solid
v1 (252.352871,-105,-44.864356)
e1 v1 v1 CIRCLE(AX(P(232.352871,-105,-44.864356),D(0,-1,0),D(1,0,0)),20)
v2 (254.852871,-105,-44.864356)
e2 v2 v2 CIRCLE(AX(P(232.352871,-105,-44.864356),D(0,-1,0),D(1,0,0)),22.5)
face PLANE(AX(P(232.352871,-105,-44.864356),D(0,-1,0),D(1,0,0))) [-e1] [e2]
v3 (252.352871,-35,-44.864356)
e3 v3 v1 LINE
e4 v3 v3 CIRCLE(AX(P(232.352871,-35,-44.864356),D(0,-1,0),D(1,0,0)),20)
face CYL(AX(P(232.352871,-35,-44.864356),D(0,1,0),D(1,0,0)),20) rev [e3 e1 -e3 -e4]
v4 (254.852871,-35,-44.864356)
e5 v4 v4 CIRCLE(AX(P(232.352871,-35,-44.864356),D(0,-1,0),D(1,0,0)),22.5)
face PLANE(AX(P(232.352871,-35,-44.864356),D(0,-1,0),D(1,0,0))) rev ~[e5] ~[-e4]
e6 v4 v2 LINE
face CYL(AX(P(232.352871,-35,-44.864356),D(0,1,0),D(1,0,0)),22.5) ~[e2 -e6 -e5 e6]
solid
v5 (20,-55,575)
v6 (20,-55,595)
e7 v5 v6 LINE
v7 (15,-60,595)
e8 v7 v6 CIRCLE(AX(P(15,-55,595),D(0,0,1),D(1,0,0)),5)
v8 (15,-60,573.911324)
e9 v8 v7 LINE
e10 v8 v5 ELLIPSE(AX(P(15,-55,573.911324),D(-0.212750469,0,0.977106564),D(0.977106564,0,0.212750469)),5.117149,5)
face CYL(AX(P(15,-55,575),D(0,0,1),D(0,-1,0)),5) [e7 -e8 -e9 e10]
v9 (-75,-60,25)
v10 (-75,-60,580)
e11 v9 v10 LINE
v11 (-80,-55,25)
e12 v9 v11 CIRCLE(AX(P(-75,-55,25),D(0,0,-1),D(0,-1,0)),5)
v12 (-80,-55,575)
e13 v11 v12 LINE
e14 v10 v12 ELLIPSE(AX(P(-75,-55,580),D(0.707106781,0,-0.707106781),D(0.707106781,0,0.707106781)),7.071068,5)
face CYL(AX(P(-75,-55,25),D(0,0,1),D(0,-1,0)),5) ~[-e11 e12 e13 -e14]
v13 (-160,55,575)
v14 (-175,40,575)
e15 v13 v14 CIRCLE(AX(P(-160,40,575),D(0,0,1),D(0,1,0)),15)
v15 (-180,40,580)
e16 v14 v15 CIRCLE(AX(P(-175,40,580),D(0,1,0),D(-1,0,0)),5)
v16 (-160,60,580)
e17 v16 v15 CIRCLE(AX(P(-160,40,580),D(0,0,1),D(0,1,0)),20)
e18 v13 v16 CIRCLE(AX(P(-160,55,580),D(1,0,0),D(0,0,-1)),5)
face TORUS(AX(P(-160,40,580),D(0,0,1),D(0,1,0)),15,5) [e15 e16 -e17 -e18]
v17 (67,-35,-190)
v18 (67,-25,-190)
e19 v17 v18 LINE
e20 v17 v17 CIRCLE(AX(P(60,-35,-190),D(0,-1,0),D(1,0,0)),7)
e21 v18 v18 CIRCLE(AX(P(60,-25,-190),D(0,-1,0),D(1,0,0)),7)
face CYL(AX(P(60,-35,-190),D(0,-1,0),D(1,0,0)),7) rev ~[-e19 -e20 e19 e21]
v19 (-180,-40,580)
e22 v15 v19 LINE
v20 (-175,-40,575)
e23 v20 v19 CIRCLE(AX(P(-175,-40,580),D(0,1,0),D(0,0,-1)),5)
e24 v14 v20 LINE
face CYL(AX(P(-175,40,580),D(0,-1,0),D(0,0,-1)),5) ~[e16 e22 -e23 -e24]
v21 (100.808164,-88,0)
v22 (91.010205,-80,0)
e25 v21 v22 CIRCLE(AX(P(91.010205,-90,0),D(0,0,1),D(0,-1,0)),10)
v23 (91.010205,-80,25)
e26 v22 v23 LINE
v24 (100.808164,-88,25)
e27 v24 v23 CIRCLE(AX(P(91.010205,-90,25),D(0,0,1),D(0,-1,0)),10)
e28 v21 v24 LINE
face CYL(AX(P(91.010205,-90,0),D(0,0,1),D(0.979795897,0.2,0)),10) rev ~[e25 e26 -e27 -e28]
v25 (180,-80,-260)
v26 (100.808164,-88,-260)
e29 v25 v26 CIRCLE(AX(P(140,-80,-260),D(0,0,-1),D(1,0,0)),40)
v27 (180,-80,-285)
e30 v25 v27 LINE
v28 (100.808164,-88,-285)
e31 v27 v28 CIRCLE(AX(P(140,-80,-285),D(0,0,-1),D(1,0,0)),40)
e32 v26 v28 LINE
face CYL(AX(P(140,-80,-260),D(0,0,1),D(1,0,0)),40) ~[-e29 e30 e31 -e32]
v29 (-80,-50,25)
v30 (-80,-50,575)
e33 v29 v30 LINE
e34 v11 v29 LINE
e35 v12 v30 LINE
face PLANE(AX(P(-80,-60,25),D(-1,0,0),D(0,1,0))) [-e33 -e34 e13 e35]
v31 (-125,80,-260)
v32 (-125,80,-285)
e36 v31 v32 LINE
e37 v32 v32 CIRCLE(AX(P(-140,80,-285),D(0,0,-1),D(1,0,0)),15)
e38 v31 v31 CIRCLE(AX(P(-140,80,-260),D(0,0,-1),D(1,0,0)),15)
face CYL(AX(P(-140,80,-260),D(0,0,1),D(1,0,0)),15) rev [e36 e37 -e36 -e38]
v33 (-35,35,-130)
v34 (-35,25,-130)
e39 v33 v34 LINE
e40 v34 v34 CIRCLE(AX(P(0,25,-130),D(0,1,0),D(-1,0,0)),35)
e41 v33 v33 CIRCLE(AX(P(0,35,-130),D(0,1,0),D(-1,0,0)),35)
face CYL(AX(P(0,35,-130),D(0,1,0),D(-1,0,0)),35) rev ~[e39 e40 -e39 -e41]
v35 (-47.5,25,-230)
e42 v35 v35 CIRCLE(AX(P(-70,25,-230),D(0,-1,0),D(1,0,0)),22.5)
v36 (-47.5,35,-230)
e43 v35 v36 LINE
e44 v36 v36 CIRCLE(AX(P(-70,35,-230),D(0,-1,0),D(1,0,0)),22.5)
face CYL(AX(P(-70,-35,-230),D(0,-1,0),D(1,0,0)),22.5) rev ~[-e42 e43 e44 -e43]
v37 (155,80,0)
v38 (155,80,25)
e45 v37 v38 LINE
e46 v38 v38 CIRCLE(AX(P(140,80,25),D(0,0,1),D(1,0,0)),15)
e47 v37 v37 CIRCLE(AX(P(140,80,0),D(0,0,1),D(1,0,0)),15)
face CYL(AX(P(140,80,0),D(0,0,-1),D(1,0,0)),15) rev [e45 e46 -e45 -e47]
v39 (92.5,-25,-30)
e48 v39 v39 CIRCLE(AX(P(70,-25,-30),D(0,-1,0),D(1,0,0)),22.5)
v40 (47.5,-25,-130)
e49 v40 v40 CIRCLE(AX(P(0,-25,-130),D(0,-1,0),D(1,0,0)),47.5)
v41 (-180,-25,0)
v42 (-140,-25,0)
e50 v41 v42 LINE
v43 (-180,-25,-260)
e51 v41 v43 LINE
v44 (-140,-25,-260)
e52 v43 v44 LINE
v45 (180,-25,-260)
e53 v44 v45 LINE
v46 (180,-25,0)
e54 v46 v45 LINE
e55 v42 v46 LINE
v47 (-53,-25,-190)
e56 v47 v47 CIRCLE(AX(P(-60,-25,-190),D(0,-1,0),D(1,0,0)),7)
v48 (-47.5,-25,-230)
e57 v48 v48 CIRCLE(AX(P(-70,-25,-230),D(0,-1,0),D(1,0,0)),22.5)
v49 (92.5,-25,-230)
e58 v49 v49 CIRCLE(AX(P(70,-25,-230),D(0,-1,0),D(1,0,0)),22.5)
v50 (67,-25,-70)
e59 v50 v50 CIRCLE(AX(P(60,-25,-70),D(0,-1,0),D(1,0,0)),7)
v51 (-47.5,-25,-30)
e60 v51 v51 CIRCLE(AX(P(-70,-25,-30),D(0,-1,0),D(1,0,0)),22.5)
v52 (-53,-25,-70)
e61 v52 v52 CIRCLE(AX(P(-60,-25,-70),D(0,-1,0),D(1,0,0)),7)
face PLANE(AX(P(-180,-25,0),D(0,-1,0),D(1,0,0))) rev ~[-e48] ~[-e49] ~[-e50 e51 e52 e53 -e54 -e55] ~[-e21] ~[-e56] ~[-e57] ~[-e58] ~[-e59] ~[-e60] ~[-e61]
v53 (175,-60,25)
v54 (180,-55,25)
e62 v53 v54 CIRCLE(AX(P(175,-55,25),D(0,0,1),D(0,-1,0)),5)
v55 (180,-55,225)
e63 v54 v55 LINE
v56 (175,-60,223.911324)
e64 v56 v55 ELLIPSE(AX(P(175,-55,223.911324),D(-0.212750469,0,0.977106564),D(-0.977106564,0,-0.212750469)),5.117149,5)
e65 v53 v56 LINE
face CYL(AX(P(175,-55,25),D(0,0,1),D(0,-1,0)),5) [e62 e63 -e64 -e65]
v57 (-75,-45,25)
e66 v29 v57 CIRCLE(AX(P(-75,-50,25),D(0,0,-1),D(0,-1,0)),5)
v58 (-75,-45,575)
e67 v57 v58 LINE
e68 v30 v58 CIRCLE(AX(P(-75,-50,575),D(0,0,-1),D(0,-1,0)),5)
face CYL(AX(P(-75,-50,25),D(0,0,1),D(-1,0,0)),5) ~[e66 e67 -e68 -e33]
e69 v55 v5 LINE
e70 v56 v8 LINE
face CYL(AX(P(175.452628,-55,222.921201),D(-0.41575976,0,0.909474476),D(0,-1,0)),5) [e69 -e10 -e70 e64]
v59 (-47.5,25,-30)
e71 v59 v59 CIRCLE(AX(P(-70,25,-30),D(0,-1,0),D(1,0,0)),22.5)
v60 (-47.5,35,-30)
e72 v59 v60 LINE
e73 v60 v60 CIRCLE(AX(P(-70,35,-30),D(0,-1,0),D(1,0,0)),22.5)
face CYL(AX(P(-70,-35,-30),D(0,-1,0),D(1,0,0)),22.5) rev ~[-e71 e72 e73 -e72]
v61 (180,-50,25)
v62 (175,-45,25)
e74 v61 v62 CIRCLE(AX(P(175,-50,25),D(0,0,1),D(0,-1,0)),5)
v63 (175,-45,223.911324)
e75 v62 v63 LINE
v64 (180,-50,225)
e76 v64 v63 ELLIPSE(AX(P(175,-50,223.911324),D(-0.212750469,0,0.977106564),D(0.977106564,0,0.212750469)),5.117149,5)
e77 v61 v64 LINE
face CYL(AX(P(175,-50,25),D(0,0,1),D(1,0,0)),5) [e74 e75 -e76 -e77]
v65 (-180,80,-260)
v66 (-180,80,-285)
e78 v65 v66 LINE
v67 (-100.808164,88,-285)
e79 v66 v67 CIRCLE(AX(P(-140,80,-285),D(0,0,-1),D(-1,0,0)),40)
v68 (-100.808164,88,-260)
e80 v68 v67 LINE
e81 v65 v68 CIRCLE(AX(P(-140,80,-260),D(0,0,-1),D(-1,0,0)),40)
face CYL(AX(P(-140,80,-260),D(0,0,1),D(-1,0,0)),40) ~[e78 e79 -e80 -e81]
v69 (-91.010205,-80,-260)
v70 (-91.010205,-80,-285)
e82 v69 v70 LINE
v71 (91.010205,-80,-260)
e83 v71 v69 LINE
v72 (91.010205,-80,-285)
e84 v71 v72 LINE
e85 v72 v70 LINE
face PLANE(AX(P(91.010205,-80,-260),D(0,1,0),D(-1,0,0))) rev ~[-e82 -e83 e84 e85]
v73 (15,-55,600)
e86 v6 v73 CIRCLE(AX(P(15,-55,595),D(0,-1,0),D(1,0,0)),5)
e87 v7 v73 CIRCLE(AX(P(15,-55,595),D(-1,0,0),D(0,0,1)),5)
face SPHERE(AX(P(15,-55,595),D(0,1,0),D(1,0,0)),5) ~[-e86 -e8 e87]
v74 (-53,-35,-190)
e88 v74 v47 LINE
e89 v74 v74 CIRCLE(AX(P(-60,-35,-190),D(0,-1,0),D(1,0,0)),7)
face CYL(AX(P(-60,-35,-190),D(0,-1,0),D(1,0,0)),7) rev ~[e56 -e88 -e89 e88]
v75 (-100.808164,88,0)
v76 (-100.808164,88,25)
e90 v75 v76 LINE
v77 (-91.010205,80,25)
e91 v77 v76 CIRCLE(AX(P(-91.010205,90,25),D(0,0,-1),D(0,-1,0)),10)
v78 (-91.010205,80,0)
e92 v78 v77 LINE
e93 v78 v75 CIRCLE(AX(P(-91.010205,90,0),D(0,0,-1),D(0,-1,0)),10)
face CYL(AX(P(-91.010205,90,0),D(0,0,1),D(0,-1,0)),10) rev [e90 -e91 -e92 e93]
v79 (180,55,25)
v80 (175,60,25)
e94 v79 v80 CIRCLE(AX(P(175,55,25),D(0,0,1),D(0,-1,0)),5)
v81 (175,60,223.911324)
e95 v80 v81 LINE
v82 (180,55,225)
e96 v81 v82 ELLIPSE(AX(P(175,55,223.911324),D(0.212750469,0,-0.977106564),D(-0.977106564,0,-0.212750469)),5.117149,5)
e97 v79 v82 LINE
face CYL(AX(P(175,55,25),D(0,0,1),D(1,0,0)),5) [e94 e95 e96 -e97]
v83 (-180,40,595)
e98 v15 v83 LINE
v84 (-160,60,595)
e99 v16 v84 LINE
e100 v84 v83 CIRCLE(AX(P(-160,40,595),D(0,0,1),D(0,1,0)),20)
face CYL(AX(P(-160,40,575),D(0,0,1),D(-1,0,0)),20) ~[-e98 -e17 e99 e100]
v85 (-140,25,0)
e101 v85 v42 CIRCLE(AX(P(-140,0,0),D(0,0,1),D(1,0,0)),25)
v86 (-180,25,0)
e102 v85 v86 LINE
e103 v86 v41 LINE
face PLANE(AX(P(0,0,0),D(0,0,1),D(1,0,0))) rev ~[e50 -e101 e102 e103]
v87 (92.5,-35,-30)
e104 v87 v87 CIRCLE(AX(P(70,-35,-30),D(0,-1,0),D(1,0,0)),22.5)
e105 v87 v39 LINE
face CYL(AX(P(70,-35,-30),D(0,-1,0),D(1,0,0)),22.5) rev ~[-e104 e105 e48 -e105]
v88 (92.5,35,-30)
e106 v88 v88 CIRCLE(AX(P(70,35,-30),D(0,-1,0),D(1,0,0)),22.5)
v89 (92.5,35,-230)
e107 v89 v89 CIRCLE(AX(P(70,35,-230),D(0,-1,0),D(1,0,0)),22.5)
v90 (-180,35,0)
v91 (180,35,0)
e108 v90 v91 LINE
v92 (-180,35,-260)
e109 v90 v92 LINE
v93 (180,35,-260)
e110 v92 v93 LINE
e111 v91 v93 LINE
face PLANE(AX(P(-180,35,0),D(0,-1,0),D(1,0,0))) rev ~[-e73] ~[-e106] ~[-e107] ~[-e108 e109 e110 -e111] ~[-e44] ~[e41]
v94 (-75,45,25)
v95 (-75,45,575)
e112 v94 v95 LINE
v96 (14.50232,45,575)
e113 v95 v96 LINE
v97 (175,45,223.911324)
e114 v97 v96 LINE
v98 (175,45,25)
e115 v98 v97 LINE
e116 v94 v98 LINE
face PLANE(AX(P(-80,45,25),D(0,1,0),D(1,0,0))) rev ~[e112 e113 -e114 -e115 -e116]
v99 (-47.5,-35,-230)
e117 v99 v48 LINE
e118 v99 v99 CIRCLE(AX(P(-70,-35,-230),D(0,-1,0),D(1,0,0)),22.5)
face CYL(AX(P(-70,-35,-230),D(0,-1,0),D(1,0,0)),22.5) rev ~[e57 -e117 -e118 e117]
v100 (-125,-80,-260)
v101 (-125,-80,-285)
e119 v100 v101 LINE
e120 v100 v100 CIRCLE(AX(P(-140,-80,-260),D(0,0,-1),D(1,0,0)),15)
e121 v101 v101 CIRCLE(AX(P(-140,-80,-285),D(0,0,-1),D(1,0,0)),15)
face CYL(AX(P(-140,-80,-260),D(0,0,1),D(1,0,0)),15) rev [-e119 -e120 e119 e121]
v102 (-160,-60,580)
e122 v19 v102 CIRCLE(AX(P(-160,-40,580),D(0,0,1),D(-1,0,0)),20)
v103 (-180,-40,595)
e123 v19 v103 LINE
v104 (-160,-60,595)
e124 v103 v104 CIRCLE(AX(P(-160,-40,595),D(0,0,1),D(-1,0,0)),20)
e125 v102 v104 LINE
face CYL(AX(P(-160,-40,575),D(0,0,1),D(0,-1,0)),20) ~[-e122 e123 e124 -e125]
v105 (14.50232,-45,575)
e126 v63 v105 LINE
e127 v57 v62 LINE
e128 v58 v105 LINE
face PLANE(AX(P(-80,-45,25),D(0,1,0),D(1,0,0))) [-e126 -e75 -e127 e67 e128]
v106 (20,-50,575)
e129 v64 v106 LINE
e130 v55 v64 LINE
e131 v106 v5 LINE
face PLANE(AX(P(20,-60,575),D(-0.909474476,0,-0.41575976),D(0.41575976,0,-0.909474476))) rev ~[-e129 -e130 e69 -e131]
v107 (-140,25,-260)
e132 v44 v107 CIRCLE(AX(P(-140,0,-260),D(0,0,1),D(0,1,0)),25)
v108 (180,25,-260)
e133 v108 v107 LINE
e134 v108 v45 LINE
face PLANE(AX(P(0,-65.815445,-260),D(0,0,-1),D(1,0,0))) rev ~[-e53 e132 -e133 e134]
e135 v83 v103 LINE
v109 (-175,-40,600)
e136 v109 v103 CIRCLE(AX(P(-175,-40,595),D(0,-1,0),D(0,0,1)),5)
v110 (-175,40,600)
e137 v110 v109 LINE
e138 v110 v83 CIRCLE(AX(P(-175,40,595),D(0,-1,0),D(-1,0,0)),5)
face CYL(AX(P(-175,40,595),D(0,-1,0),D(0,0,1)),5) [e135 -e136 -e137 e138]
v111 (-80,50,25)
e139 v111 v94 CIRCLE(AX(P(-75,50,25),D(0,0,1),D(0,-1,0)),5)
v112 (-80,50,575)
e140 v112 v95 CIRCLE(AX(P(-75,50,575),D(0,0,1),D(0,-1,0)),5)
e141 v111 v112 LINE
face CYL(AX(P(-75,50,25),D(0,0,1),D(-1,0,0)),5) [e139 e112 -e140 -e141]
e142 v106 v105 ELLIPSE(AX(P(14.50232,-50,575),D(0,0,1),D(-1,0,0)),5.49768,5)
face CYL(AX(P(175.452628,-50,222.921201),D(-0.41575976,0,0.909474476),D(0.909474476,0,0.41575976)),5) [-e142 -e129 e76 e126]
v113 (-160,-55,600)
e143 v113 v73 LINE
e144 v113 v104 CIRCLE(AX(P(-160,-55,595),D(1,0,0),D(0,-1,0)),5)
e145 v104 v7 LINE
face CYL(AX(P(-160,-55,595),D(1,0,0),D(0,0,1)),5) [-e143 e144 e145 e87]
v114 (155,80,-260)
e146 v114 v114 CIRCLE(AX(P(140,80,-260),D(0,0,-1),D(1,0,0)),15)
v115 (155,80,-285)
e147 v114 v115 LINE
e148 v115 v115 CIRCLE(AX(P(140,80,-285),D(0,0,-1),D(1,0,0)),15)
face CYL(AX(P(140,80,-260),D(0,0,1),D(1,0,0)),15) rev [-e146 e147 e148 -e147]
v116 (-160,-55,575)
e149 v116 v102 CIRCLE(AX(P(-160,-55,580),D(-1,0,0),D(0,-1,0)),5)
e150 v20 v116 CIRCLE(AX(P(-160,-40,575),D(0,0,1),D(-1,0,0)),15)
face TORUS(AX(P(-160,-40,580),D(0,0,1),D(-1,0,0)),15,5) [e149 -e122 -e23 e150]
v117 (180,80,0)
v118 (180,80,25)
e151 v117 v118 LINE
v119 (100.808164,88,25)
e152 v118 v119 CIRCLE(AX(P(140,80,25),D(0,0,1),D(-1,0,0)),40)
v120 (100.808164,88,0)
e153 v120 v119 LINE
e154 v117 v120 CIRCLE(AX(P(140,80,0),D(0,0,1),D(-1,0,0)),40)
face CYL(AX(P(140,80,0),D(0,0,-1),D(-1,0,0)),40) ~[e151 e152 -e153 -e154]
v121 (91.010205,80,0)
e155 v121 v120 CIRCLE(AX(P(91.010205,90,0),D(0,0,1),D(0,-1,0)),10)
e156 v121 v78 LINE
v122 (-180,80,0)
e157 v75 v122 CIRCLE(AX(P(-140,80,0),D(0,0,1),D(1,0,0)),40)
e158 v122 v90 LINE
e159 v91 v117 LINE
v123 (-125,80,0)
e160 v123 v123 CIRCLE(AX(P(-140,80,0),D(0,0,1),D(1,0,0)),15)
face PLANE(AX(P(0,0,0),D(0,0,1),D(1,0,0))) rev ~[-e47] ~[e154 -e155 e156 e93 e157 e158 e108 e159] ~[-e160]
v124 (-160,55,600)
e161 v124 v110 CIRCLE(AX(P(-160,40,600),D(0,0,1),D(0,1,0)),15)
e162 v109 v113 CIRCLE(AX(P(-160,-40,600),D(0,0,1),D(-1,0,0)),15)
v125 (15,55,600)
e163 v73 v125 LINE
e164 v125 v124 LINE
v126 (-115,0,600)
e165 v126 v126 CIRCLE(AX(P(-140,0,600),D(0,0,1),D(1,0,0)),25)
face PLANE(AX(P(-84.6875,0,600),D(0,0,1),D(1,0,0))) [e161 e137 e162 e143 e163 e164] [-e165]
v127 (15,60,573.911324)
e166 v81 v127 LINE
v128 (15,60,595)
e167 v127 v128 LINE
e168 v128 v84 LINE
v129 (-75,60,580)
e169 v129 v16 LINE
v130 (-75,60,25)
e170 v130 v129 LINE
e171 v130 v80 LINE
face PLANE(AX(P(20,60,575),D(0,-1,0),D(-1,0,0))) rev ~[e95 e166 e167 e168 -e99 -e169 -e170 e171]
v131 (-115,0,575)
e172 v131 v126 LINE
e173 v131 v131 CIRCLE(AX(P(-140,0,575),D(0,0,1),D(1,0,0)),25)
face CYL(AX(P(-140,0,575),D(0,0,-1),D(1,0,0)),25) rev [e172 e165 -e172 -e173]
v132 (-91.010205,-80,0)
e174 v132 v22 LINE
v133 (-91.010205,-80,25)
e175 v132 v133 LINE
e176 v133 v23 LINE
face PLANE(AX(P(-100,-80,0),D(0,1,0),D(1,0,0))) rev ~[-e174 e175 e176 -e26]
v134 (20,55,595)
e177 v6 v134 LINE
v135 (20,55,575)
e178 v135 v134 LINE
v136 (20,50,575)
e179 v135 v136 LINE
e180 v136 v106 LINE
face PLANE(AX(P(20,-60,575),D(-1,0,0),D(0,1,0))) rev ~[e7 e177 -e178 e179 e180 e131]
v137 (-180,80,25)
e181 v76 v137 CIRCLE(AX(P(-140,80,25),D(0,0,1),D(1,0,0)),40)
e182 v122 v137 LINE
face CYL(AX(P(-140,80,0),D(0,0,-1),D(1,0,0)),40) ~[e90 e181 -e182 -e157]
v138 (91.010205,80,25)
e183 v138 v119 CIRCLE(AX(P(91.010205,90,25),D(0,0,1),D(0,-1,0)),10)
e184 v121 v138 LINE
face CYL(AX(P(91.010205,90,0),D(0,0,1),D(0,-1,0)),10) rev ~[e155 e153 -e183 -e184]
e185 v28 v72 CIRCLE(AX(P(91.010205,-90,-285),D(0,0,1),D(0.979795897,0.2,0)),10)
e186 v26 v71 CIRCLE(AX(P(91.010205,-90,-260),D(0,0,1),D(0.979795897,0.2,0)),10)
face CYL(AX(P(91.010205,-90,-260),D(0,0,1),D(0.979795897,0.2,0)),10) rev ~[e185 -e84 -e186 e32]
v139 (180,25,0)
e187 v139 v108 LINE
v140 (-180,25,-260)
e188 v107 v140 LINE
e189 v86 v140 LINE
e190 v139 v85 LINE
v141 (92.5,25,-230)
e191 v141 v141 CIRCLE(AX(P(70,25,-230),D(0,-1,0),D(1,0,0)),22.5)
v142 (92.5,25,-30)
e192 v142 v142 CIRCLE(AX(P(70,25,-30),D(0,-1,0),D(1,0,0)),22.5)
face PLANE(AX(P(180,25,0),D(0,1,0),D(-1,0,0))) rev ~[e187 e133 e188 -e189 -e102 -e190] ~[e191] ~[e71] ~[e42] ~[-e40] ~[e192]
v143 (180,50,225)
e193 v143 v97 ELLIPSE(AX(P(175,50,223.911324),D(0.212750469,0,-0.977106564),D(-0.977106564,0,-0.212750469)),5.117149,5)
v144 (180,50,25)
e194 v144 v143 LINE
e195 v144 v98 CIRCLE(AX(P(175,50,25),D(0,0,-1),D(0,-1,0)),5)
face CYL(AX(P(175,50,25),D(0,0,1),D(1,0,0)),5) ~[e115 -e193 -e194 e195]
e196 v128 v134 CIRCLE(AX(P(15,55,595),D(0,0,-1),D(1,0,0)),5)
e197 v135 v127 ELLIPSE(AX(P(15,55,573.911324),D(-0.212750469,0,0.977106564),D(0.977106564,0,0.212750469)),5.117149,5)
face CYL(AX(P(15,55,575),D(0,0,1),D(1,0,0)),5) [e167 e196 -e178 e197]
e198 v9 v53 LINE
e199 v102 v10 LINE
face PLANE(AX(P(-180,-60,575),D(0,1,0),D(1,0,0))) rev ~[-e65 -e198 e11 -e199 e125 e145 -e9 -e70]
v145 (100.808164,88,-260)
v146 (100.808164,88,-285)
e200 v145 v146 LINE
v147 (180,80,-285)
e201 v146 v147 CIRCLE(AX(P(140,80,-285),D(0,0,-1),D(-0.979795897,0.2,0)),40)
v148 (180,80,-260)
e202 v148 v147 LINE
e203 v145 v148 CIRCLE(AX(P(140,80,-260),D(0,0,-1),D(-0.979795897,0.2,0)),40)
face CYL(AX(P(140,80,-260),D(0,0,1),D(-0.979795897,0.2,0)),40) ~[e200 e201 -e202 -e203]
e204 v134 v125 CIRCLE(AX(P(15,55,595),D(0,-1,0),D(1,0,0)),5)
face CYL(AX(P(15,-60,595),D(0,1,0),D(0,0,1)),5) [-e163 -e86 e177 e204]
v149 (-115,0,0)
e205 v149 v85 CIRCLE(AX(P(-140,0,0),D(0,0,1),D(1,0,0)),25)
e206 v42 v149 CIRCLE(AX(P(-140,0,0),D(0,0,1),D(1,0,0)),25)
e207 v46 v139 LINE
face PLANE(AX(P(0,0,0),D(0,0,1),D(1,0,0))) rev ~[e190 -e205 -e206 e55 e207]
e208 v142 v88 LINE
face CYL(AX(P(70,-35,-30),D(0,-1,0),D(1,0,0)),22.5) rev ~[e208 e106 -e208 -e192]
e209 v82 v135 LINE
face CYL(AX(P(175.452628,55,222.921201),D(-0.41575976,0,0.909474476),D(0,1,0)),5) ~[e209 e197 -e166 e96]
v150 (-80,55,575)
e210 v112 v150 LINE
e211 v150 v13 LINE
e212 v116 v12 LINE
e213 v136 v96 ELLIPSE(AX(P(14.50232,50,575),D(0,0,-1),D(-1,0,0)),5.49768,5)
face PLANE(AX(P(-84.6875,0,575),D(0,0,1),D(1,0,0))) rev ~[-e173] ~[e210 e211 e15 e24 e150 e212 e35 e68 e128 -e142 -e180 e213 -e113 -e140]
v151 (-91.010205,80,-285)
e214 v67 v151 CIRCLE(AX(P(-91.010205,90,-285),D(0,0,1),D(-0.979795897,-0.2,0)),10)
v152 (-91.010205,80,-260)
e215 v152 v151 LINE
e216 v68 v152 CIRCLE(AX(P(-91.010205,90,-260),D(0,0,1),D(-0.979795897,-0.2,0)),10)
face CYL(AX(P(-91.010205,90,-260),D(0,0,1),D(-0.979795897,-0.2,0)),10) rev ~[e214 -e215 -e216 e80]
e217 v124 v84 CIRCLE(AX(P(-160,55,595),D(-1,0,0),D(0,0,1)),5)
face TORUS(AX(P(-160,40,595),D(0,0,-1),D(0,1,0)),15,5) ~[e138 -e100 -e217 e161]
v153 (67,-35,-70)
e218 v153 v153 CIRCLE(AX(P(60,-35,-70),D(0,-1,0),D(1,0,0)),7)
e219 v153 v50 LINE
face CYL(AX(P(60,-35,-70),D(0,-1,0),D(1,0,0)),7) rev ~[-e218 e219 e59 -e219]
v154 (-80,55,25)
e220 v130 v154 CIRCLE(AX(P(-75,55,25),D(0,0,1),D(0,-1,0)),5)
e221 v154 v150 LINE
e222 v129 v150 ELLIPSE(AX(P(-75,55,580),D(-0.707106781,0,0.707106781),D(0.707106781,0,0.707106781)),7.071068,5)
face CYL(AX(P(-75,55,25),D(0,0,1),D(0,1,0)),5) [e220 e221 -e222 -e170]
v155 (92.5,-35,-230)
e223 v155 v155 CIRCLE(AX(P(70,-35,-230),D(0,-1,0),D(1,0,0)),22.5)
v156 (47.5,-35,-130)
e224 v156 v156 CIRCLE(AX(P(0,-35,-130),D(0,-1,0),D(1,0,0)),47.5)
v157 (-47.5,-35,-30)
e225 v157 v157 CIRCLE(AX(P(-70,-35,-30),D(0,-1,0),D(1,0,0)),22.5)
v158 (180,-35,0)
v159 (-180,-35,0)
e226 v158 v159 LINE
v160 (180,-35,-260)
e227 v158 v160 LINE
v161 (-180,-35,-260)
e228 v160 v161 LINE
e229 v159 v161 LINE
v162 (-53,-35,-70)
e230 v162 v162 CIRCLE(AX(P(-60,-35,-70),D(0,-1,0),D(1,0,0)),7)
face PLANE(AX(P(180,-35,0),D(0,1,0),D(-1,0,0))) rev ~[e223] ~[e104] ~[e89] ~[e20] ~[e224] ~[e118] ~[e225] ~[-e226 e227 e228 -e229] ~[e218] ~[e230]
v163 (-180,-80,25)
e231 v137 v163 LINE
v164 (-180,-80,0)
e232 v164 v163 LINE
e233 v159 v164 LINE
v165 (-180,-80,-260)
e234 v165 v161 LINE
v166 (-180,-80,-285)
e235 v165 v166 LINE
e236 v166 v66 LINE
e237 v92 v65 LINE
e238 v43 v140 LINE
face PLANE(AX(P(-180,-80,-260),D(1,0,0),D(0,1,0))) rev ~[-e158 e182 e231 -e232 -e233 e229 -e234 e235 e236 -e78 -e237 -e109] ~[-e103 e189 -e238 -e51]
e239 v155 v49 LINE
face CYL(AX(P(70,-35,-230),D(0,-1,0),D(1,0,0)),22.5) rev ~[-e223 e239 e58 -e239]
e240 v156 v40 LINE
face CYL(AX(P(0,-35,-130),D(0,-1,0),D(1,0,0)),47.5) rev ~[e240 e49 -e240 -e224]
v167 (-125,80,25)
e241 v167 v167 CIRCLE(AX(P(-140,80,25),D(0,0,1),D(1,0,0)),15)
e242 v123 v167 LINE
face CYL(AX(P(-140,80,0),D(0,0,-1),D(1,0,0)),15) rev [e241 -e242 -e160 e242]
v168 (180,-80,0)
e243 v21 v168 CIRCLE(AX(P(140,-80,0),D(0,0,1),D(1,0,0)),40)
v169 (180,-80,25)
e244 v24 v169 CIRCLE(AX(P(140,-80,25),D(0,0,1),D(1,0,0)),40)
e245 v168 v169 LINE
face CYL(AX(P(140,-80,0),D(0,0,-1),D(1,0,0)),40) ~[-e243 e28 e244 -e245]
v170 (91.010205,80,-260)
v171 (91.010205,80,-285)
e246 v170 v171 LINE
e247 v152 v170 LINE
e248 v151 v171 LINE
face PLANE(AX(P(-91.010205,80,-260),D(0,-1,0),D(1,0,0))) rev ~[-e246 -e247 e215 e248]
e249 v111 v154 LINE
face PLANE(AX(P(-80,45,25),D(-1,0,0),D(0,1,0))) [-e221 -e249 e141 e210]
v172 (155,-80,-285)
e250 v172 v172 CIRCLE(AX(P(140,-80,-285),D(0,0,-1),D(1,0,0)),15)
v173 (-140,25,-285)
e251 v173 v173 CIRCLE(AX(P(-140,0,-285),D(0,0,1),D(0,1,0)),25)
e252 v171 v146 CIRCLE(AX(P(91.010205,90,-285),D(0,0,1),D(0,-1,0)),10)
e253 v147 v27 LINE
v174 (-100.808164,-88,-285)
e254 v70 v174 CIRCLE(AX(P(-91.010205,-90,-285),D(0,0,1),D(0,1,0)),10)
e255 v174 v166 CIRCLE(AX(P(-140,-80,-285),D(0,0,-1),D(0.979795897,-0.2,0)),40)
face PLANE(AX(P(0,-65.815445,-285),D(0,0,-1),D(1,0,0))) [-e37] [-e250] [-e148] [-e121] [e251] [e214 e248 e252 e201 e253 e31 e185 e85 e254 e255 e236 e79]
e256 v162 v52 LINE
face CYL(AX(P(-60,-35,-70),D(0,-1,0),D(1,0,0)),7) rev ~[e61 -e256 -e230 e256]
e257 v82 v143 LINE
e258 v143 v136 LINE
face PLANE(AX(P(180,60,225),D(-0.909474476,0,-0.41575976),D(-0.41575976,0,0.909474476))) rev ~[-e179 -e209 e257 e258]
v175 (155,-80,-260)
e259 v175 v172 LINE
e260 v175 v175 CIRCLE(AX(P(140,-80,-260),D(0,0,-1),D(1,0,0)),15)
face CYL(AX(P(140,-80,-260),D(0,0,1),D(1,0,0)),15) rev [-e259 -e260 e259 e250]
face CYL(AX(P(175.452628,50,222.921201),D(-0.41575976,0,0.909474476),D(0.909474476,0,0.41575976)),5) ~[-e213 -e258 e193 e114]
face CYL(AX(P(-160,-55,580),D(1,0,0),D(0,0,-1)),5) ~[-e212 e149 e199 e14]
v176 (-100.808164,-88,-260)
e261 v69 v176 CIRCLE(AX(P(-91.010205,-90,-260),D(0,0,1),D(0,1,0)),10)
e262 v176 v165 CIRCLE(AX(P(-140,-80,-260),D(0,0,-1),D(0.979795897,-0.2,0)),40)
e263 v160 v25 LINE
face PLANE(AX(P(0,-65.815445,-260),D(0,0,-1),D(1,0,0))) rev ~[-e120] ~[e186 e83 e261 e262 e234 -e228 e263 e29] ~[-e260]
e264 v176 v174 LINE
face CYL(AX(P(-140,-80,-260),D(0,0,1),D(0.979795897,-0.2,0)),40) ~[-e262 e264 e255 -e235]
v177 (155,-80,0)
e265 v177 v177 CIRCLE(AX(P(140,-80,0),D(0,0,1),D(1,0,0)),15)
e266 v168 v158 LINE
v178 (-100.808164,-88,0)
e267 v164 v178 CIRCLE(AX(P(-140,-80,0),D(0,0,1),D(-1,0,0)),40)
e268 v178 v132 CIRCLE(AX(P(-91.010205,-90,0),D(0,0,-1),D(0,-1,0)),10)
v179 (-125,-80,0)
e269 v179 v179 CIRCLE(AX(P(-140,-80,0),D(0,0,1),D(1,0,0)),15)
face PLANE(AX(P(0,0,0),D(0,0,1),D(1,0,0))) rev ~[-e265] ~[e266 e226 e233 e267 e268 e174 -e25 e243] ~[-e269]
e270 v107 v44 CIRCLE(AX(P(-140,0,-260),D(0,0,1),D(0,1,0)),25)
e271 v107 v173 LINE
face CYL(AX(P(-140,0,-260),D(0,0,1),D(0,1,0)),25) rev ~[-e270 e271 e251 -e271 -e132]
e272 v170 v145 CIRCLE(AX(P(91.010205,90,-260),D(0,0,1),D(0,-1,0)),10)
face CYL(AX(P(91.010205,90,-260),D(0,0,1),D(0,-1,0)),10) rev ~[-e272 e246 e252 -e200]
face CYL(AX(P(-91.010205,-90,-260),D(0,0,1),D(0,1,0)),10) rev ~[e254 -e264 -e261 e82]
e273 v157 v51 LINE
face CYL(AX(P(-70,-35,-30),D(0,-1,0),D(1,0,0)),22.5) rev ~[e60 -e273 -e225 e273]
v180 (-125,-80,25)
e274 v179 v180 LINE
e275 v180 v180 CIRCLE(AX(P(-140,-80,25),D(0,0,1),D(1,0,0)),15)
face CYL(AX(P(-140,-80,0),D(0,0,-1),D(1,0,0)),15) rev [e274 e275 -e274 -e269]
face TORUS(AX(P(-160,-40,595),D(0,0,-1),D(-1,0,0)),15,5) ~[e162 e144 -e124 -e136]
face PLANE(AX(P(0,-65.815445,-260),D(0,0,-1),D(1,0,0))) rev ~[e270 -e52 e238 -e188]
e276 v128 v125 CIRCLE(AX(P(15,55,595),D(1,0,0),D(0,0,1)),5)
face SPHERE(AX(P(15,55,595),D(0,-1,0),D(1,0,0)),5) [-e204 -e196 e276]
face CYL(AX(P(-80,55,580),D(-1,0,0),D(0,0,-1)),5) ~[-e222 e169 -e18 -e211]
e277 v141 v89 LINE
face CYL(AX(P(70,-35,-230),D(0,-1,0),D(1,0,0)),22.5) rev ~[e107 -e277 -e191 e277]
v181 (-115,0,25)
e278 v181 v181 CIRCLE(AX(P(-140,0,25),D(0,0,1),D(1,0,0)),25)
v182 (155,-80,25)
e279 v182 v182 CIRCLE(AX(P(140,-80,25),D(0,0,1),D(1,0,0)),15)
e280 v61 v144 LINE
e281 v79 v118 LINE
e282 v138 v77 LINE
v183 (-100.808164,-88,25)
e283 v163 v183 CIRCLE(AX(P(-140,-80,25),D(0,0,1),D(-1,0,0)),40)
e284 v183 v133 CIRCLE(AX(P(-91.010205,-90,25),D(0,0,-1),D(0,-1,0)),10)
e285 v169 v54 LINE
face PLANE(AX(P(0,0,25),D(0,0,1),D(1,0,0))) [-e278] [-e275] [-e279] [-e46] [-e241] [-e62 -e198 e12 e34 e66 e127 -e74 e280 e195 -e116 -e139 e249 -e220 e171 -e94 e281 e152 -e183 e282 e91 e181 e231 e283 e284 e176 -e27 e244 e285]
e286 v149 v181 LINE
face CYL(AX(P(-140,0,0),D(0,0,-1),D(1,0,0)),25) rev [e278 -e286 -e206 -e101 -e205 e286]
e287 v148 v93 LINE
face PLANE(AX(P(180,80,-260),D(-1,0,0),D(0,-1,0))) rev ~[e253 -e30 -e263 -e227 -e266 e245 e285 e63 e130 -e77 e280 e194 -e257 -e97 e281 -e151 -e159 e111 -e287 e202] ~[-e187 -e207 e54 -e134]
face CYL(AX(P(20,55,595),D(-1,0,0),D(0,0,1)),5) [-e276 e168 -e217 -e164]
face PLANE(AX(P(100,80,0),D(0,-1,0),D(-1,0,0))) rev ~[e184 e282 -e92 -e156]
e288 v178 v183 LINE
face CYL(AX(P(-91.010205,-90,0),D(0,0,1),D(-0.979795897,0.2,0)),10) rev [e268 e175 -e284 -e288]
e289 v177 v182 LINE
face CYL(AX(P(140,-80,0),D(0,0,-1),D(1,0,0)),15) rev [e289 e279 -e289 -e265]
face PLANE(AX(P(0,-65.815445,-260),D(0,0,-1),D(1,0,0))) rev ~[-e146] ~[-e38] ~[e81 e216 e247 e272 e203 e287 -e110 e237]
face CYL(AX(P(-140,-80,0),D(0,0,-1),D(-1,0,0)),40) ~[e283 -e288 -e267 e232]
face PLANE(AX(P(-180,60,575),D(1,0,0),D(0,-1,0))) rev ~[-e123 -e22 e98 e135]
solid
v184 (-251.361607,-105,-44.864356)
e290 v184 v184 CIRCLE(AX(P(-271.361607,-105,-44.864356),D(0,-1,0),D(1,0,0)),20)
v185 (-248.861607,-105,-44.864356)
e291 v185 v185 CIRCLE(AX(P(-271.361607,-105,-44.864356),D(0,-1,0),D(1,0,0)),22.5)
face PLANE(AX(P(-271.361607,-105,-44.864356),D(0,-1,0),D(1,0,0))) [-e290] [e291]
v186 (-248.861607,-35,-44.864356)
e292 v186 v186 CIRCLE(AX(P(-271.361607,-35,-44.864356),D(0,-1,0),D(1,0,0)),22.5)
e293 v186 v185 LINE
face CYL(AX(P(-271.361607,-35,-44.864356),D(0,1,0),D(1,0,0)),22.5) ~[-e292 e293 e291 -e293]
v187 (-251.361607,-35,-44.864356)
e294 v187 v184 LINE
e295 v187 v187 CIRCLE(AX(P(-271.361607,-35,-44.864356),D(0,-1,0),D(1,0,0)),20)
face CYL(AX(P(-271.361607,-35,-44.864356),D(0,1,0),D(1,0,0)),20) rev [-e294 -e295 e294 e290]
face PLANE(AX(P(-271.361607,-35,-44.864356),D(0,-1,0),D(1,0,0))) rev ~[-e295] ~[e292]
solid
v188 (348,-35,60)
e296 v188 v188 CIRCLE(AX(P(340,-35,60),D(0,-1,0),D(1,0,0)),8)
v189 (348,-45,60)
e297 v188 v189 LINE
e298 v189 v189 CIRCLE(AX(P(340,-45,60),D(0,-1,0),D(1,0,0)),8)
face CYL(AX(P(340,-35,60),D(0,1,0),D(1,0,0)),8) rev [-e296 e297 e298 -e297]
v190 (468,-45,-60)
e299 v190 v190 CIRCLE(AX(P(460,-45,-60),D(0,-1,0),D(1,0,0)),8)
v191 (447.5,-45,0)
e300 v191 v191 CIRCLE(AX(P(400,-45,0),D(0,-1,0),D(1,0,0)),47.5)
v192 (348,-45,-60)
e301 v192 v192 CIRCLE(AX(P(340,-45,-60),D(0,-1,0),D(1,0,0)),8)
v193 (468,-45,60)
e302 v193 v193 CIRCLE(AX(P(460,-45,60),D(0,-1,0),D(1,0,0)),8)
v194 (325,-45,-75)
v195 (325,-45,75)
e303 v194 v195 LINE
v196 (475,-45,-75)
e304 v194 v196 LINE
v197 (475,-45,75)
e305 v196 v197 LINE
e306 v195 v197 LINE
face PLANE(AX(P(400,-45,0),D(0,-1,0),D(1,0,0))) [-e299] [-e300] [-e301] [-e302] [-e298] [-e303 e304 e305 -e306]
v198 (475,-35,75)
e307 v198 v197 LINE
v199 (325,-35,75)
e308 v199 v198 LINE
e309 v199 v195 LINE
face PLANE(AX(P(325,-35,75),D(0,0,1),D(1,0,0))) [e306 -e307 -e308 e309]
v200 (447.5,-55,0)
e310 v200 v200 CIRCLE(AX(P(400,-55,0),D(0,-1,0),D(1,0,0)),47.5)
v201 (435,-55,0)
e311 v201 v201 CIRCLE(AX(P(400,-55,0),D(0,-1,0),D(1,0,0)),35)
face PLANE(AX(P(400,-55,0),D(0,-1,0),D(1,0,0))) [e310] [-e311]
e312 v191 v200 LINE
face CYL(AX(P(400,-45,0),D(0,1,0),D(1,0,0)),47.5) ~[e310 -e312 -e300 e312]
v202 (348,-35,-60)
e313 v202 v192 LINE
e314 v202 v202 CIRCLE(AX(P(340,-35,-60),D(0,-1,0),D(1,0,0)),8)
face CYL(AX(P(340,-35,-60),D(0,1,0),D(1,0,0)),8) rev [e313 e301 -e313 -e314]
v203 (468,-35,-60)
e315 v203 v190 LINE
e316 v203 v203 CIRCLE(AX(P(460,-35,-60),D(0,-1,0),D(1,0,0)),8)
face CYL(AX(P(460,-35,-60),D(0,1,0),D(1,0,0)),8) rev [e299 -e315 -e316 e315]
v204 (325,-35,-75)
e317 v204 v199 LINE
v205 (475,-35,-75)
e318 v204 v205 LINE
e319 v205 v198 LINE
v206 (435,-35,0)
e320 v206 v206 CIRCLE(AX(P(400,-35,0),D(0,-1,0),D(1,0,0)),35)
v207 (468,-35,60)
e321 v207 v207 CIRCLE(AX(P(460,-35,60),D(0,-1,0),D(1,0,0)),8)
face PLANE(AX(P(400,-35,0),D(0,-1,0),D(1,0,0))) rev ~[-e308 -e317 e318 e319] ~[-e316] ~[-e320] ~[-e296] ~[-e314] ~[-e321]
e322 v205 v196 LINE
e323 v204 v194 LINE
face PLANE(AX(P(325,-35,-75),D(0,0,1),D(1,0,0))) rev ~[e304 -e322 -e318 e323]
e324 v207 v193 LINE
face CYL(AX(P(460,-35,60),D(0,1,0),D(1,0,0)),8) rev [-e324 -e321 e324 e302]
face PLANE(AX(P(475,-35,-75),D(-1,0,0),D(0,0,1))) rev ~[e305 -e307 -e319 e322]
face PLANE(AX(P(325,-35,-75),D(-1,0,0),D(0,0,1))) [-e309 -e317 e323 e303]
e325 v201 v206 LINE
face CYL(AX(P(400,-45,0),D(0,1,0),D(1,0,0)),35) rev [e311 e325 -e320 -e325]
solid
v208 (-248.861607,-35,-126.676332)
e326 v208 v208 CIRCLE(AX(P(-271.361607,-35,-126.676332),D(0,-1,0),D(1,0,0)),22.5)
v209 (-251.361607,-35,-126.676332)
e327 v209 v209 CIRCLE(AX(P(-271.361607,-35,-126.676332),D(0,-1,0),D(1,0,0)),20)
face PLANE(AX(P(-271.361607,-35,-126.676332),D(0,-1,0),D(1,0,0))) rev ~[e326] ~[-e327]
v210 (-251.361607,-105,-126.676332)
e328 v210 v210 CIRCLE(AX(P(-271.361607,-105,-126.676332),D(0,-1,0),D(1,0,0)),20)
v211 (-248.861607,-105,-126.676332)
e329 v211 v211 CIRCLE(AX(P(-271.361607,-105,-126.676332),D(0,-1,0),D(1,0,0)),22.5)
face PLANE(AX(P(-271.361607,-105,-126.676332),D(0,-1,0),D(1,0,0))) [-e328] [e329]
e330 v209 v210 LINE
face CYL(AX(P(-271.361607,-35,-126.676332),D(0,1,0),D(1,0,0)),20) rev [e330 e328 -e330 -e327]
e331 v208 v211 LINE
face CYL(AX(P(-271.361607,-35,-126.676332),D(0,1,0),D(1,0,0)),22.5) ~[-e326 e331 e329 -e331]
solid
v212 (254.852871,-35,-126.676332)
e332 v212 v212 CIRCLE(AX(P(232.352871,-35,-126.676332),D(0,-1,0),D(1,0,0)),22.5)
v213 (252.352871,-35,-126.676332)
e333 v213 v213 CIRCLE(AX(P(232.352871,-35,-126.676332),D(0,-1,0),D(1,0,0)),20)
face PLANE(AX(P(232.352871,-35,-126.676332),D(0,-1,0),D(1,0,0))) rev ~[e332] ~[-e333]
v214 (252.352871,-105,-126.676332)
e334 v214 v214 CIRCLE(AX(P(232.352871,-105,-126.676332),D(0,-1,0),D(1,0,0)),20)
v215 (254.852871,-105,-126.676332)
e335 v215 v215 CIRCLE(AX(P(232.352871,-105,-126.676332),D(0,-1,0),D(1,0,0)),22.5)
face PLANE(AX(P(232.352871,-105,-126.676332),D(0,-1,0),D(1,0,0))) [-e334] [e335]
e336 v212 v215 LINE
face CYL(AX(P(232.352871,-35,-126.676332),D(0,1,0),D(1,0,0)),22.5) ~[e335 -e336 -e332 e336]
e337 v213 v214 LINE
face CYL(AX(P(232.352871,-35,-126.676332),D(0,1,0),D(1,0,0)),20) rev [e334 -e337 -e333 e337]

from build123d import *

# Parameters (mm, degrees)
F0_R      = 25
F0_R_2    = 15
F1_DEPTH  = 25
F2_R      = 10
F4_DEPTH  = 260
F5_R      = 15
F6_DEPTH  = 25
F7_R      = 22.5
F8_DEPTH  = 70
F9_R      = 22.5
F9_R_2    = 20
F10_DEPTH = 70
F11_W     = 260
F11_H     = 15
F12_DEPTH = 550
F14_DEPTH = 35
F16_DEPTH = 70
F17_R     = 25
F17_W     = 100
F17_H     = 15
F18_DEPTH = 25
F19_R     = 20
F20_R     = 5
F21_R     = 35
F22_DEPTH = 10
F23_R     = 7
F23_R_2   = 47.5
F24_DEPTH = 10
F25_W     = 150
F25_H     = 150
F25_R     = 8
F25_R_2   = 47.5
F25_R_3   = 35
F26_DEPTH = 10
F27_R     = 47.5
F27_R_2   = 35
F28_DEPTH = 10


with BuildPart() as f1:
    # F0 (on Top) → F1 (new body)
    with BuildSketch(Plane.XY):
        with BuildLine():
            Line((100, 80), (-100, 80))
            ThreePointArc((-100, 80), (-140, 40), (-180, 80))
            Line((-180, 80), (-180, -80))
            ThreePointArc((-180, -80), (-140, -40), (-100, -80))
            Line((-100, -80), (100, -80))
            ThreePointArc((100, -80), (140, -40), (180, -80))
            Line((180, -80), (180, 80))
            ThreePointArc((180, 80), (140, 40), (100, 80))
        make_face()
        with Locations((-140, 0)):
            Circle(F0_R, mode=Mode.SUBTRACT)
        with BuildLine():
            ThreePointArc((-180, 80), (-140, 40), (-100, 80))
            ThreePointArc((-100, 80), (-140, 120), (-180, 80))
        make_face()
        with Locations((-140, 80)):
            Circle(F0_R_2, mode=Mode.SUBTRACT)
        with BuildLine():
            ThreePointArc((180, 80), (140, 120), (100, 80))
            ThreePointArc((100, 80), (140, 40), (180, 80))
        make_face()
        with Locations((140, 80)):
            Circle(F0_R_2, mode=Mode.SUBTRACT)
        with BuildLine():
            ThreePointArc((100, -80), (140, -120), (180, -80))
            ThreePointArc((180, -80), (140, -40), (100, -80))
        make_face()
        with Locations((140, -80)):
            Circle(F0_R_2, mode=Mode.SUBTRACT)
        with BuildLine():
            ThreePointArc((-100, -80), (-140, -40), (-180, -80))
            ThreePointArc((-180, -80), (-140, -120), (-100, -80))
        make_face()
        with Locations((-140, -80)):
            Circle(F0_R_2, mode=Mode.SUBTRACT)
    extrude(amount=F1_DEPTH)

    # F2
    f2_edges = [f1.edges().sort_by_distance(p)[0] for p in [
        (-100, 80, 12.5),
        (100, 80, 12.5),
        (100, -80, 12.5),
        (-100, -80, 12.5),
    ]]
    fillet(f2_edges, radius=F2_R)

    # F3 (on face) → F4 (join)
    with BuildSketch(Plane(origin=(0, 0, 0), x_dir=(1, 0, 0), z_dir=(0, 0, -1))):
        Polygon((-180, 35), (-180, 25), (-140, 25), (180, 25), (180, 35), align=None)
        Polygon((-140, -25), (-180, -25), (-180, -35), (180, -35), (180, -25), align=None)
    extrude(amount=F4_DEPTH)

    # F5 (on face) → F6 (join)
    with BuildSketch(Plane(origin=(0, 0, -260), x_dir=(1, 0, 0), z_dir=(0, 0, -1))):
        with BuildLine():
            Line((-180, 80), (-180, 35))
            Line((-180, 35), (180, 35))
            Line((180, 35), (180, 80))
            ThreePointArc((180, 80), (144.0203584802, 119.7974461202), (100.8081641155, 88))
            ThreePointArc((100.8081641155, 88), (97.3347604647, 82.2540333076), (91.0102051443, 80))
            Line((91.0102051443, 80), (-91.0102051443, 80))
            ThreePointArc((-91.0102051443, 80), (-97.3347604647, 82.2540333076), (-100.8081641155, 88))
            ThreePointArc((-100.8081641155, 88), (-144.0203584802, 119.7974461202), (-180, 80))
        make_face()
        with Locations((-140, 80)):
            Circle(F5_R, mode=Mode.SUBTRACT)
        with Locations((140, 80)):
            Circle(F5_R, mode=Mode.SUBTRACT)
        Polygon((180, 35), (-180, 35), (-180, 25), (-140, 25), (180, 25), align=None)
        with BuildLine():
            Line((-140, 25), (-180, 25))
            Line((-180, 25), (-180, -25))
            Line((-180, -25), (-140, -25))
            ThreePointArc((-140, -25), (-165, 0), (-140, 25))
        make_face()
        with BuildLine():
            Line((180, -25), (180, 25))
            Line((180, 25), (-140, 25))
            ThreePointArc((-140, 25), (-115, 0), (-140, -25))
            Line((-140, -25), (180, -25))
        make_face()
        Polygon((-140, -25), (-180, -25), (-180, -35), (180, -35), (180, -25), align=None)
        with BuildLine():
            Line((180, -35), (-180, -35))
            Line((-180, -35), (-180, -80))
            ThreePointArc((-180, -80), (-144.0203584802, -119.7974461202), (-100.8081641155, -88))
            ThreePointArc((-100.8081641155, -88), (-97.3347604647, -82.2540333076), (-91.0102051443, -80))
            Line((-91.0102051443, -80), (91.0102051443, -80))
            ThreePointArc((91.0102051443, -80), (97.3347604647, -82.2540333076), (100.8081641155, -88))
            ThreePointArc((100.8081641155, -88), (144.0203584802, -119.7974461202), (180, -80))
            Line((180, -80), (180, -35))
        make_face()
        with Locations((-140, -80)):
            Circle(F5_R, mode=Mode.SUBTRACT)
        with Locations((140, -80)):
            Circle(F5_R, mode=Mode.SUBTRACT)
    extrude(amount=F6_DEPTH)

    # F7 (on face) → F8 (cut)
    with BuildSketch(Plane.XZ.offset(35)):
        with Locations((-70, -30)):
            Circle(F7_R)
        with Locations((70, -30)):
            Circle(F7_R)
        with Locations((70, -230)):
            Circle(F7_R)
        with Locations((-70, -230)):
            Circle(F7_R)
    extrude(amount=-F8_DEPTH, mode=Mode.SUBTRACT)

    # F11 (on face) → F12 (join)
    with BuildSketch(Plane.XY.offset(25)):
        with Locations((50, 52.5)):
            Rectangle(F11_W, F11_H)
        with Locations((50, -52.5)):
            Rectangle(F11_W, F11_H)
    extrude(amount=F12_DEPTH)

    # F13 (on face) → F14 (cut, symmetric)
    with BuildSketch(Plane.XZ.offset(60)):
        Polygon((180, 575), (20, 575), (180, 225), align=None)
    extrude(amount=F14_DEPTH, both=True, mode=Mode.SUBTRACT)

    # F15 (on face) → F16 (cut)
    with BuildSketch(Plane(origin=(0, 60, 0), x_dir=(-1, 0, 0), z_dir=(0, 1, 0))):
        Polygon((-180, 225), (-20, 575), (-180, 575), align=None)
    extrude(amount=-F16_DEPTH, mode=Mode.SUBTRACT)

    # F17 (on face) → F18 (join)
    with BuildSketch(Plane.XY.offset(575)):
        Polygon((-180, -60), (-80, -60), (-80, -45), (20, -45), (20, 45), (-80, 45), (-80, 60), (-180, 60), align=None)
        with Locations((-140, 0)):
            Circle(F17_R, mode=Mode.SUBTRACT)
        with Locations((-30, 52.5)):
            Rectangle(F17_W, F17_H)
        with Locations((-30, -52.5)):
            Rectangle(F17_W, F17_H)
    extrude(amount=F18_DEPTH)

    # F19
    f19_edges = [f1.edges().sort_by_distance(p)[0] for p in [
        (-180, 60, 587.5),
        (-180, -60, 587.5),
    ]]
    fillet(f19_edges, radius=F19_R)

    # F20
    f20_edges = [f1.edges().sort_by_distance(p)[0] for p in [
        (20, 0, 600),
        (20, -60, 587.5),
        (20, 60, 587.5),
        (100, 60, 400),
        (100, 45, 400),
        (180, 45, 125),
        (180, 60, 125),
        (-80, 60, 300),
        (-80, 45, 300),
        (-80, -60, 300),
        (-80, -45, 300),
        (-180, 0, 600),
        (-180, 0, 575),
        (100, -60, 400),
        (180, -60, 125),
        (180, -45, 125),
        (100, -45, 400),
    ]]
    fillet(f20_edges, radius=F20_R)

    # F21 (on face) → F22 (cut)
    with BuildSketch(Plane(origin=(0, 35, 0), x_dir=(-1, 0, 0), z_dir=(0, 1, 0))):
        with Locations((0, -130)):
            Circle(F21_R)
    extrude(amount=-F22_DEPTH, mode=Mode.SUBTRACT)

    # F23 (on face) → F24 (cut)
    with BuildSketch(Plane.XZ.offset(35)):
        with Locations((-60, -70)):
            Circle(F23_R)
        with Locations((60, -70)):
            Circle(F23_R)
        with Locations((0, -130)):
            Circle(F23_R_2)
        with Locations((-60, -190)):
            Circle(F23_R)
        with Locations((60, -190)):
            Circle(F23_R)
    extrude(amount=-F24_DEPTH, mode=Mode.SUBTRACT)


with BuildPart() as f10:
    # F9 (on face) → F10 (new body)
    with BuildSketch(Plane.XZ.offset(35)):
        with Locations((-271.361607454, -44.8643562805)):
            Circle(F9_R)
        with Locations((-271.361607454, -44.8643562805)):
            Circle(F9_R_2, mode=Mode.SUBTRACT)
    extrude(amount=F10_DEPTH)


with BuildPart() as f10b:
    # F9 (on face) → F10, piece 2 (new body)
    with BuildSketch(Plane.XZ.offset(35)):
        with Locations((-271.361607454, -126.6763324428)):
            Circle(F9_R)
        with Locations((-271.361607454, -126.6763324428)):
            Circle(F9_R_2, mode=Mode.SUBTRACT)
    extrude(amount=F10_DEPTH)


with BuildPart() as f10c:
    # F9 (on face) → F10, piece 3 (new body)
    with BuildSketch(Plane.XZ.offset(35)):
        with Locations((232.3528708436, -44.8643562805)):
            Circle(F9_R)
        with Locations((232.3528708436, -44.8643562805)):
            Circle(F9_R_2, mode=Mode.SUBTRACT)
    extrude(amount=F10_DEPTH)


with BuildPart() as f10d:
    # F9 (on face) → F10, piece 4 (new body)
    with BuildSketch(Plane.XZ.offset(35)):
        with Locations((232.3528708436, -126.6763324428)):
            Circle(F9_R)
        with Locations((232.3528708436, -126.6763324428)):
            Circle(F9_R_2, mode=Mode.SUBTRACT)
    extrude(amount=F10_DEPTH)


with BuildPart() as f26:
    # F25 (on face) → F26 (new body)
    with BuildSketch(Plane.XZ.offset(35)):
        with Locations((400, 0)):
            Rectangle(F25_W, F25_H)
        with Locations((340, -60)):
            Circle(F25_R, mode=Mode.SUBTRACT)
        with Locations((460, -60)):
            Circle(F25_R, mode=Mode.SUBTRACT)
        with Locations((400, 0)):
            Circle(F25_R_2, mode=Mode.SUBTRACT)
        with Locations((340, 60)):
            Circle(F25_R, mode=Mode.SUBTRACT)
        with Locations((460, 60)):
            Circle(F25_R, mode=Mode.SUBTRACT)
        with Locations((400, 0)):
            Circle(F25_R_2)
        with Locations((400, 0)):
            Circle(F25_R_3, mode=Mode.SUBTRACT)
    extrude(amount=F26_DEPTH)

    # F27 (on face) → F28 (join)
    with BuildSketch(Plane.XZ.offset(45)):
        with Locations((400, 0)):
            Circle(F27_R)
        with Locations((400, 0)):
            Circle(F27_R_2, mode=Mode.SUBTRACT)
    extrude(amount=F28_DEPTH)


solid = Compound([f1.part, f10.part, f10b.part, f10c.part, f10d.part, f26.part])
